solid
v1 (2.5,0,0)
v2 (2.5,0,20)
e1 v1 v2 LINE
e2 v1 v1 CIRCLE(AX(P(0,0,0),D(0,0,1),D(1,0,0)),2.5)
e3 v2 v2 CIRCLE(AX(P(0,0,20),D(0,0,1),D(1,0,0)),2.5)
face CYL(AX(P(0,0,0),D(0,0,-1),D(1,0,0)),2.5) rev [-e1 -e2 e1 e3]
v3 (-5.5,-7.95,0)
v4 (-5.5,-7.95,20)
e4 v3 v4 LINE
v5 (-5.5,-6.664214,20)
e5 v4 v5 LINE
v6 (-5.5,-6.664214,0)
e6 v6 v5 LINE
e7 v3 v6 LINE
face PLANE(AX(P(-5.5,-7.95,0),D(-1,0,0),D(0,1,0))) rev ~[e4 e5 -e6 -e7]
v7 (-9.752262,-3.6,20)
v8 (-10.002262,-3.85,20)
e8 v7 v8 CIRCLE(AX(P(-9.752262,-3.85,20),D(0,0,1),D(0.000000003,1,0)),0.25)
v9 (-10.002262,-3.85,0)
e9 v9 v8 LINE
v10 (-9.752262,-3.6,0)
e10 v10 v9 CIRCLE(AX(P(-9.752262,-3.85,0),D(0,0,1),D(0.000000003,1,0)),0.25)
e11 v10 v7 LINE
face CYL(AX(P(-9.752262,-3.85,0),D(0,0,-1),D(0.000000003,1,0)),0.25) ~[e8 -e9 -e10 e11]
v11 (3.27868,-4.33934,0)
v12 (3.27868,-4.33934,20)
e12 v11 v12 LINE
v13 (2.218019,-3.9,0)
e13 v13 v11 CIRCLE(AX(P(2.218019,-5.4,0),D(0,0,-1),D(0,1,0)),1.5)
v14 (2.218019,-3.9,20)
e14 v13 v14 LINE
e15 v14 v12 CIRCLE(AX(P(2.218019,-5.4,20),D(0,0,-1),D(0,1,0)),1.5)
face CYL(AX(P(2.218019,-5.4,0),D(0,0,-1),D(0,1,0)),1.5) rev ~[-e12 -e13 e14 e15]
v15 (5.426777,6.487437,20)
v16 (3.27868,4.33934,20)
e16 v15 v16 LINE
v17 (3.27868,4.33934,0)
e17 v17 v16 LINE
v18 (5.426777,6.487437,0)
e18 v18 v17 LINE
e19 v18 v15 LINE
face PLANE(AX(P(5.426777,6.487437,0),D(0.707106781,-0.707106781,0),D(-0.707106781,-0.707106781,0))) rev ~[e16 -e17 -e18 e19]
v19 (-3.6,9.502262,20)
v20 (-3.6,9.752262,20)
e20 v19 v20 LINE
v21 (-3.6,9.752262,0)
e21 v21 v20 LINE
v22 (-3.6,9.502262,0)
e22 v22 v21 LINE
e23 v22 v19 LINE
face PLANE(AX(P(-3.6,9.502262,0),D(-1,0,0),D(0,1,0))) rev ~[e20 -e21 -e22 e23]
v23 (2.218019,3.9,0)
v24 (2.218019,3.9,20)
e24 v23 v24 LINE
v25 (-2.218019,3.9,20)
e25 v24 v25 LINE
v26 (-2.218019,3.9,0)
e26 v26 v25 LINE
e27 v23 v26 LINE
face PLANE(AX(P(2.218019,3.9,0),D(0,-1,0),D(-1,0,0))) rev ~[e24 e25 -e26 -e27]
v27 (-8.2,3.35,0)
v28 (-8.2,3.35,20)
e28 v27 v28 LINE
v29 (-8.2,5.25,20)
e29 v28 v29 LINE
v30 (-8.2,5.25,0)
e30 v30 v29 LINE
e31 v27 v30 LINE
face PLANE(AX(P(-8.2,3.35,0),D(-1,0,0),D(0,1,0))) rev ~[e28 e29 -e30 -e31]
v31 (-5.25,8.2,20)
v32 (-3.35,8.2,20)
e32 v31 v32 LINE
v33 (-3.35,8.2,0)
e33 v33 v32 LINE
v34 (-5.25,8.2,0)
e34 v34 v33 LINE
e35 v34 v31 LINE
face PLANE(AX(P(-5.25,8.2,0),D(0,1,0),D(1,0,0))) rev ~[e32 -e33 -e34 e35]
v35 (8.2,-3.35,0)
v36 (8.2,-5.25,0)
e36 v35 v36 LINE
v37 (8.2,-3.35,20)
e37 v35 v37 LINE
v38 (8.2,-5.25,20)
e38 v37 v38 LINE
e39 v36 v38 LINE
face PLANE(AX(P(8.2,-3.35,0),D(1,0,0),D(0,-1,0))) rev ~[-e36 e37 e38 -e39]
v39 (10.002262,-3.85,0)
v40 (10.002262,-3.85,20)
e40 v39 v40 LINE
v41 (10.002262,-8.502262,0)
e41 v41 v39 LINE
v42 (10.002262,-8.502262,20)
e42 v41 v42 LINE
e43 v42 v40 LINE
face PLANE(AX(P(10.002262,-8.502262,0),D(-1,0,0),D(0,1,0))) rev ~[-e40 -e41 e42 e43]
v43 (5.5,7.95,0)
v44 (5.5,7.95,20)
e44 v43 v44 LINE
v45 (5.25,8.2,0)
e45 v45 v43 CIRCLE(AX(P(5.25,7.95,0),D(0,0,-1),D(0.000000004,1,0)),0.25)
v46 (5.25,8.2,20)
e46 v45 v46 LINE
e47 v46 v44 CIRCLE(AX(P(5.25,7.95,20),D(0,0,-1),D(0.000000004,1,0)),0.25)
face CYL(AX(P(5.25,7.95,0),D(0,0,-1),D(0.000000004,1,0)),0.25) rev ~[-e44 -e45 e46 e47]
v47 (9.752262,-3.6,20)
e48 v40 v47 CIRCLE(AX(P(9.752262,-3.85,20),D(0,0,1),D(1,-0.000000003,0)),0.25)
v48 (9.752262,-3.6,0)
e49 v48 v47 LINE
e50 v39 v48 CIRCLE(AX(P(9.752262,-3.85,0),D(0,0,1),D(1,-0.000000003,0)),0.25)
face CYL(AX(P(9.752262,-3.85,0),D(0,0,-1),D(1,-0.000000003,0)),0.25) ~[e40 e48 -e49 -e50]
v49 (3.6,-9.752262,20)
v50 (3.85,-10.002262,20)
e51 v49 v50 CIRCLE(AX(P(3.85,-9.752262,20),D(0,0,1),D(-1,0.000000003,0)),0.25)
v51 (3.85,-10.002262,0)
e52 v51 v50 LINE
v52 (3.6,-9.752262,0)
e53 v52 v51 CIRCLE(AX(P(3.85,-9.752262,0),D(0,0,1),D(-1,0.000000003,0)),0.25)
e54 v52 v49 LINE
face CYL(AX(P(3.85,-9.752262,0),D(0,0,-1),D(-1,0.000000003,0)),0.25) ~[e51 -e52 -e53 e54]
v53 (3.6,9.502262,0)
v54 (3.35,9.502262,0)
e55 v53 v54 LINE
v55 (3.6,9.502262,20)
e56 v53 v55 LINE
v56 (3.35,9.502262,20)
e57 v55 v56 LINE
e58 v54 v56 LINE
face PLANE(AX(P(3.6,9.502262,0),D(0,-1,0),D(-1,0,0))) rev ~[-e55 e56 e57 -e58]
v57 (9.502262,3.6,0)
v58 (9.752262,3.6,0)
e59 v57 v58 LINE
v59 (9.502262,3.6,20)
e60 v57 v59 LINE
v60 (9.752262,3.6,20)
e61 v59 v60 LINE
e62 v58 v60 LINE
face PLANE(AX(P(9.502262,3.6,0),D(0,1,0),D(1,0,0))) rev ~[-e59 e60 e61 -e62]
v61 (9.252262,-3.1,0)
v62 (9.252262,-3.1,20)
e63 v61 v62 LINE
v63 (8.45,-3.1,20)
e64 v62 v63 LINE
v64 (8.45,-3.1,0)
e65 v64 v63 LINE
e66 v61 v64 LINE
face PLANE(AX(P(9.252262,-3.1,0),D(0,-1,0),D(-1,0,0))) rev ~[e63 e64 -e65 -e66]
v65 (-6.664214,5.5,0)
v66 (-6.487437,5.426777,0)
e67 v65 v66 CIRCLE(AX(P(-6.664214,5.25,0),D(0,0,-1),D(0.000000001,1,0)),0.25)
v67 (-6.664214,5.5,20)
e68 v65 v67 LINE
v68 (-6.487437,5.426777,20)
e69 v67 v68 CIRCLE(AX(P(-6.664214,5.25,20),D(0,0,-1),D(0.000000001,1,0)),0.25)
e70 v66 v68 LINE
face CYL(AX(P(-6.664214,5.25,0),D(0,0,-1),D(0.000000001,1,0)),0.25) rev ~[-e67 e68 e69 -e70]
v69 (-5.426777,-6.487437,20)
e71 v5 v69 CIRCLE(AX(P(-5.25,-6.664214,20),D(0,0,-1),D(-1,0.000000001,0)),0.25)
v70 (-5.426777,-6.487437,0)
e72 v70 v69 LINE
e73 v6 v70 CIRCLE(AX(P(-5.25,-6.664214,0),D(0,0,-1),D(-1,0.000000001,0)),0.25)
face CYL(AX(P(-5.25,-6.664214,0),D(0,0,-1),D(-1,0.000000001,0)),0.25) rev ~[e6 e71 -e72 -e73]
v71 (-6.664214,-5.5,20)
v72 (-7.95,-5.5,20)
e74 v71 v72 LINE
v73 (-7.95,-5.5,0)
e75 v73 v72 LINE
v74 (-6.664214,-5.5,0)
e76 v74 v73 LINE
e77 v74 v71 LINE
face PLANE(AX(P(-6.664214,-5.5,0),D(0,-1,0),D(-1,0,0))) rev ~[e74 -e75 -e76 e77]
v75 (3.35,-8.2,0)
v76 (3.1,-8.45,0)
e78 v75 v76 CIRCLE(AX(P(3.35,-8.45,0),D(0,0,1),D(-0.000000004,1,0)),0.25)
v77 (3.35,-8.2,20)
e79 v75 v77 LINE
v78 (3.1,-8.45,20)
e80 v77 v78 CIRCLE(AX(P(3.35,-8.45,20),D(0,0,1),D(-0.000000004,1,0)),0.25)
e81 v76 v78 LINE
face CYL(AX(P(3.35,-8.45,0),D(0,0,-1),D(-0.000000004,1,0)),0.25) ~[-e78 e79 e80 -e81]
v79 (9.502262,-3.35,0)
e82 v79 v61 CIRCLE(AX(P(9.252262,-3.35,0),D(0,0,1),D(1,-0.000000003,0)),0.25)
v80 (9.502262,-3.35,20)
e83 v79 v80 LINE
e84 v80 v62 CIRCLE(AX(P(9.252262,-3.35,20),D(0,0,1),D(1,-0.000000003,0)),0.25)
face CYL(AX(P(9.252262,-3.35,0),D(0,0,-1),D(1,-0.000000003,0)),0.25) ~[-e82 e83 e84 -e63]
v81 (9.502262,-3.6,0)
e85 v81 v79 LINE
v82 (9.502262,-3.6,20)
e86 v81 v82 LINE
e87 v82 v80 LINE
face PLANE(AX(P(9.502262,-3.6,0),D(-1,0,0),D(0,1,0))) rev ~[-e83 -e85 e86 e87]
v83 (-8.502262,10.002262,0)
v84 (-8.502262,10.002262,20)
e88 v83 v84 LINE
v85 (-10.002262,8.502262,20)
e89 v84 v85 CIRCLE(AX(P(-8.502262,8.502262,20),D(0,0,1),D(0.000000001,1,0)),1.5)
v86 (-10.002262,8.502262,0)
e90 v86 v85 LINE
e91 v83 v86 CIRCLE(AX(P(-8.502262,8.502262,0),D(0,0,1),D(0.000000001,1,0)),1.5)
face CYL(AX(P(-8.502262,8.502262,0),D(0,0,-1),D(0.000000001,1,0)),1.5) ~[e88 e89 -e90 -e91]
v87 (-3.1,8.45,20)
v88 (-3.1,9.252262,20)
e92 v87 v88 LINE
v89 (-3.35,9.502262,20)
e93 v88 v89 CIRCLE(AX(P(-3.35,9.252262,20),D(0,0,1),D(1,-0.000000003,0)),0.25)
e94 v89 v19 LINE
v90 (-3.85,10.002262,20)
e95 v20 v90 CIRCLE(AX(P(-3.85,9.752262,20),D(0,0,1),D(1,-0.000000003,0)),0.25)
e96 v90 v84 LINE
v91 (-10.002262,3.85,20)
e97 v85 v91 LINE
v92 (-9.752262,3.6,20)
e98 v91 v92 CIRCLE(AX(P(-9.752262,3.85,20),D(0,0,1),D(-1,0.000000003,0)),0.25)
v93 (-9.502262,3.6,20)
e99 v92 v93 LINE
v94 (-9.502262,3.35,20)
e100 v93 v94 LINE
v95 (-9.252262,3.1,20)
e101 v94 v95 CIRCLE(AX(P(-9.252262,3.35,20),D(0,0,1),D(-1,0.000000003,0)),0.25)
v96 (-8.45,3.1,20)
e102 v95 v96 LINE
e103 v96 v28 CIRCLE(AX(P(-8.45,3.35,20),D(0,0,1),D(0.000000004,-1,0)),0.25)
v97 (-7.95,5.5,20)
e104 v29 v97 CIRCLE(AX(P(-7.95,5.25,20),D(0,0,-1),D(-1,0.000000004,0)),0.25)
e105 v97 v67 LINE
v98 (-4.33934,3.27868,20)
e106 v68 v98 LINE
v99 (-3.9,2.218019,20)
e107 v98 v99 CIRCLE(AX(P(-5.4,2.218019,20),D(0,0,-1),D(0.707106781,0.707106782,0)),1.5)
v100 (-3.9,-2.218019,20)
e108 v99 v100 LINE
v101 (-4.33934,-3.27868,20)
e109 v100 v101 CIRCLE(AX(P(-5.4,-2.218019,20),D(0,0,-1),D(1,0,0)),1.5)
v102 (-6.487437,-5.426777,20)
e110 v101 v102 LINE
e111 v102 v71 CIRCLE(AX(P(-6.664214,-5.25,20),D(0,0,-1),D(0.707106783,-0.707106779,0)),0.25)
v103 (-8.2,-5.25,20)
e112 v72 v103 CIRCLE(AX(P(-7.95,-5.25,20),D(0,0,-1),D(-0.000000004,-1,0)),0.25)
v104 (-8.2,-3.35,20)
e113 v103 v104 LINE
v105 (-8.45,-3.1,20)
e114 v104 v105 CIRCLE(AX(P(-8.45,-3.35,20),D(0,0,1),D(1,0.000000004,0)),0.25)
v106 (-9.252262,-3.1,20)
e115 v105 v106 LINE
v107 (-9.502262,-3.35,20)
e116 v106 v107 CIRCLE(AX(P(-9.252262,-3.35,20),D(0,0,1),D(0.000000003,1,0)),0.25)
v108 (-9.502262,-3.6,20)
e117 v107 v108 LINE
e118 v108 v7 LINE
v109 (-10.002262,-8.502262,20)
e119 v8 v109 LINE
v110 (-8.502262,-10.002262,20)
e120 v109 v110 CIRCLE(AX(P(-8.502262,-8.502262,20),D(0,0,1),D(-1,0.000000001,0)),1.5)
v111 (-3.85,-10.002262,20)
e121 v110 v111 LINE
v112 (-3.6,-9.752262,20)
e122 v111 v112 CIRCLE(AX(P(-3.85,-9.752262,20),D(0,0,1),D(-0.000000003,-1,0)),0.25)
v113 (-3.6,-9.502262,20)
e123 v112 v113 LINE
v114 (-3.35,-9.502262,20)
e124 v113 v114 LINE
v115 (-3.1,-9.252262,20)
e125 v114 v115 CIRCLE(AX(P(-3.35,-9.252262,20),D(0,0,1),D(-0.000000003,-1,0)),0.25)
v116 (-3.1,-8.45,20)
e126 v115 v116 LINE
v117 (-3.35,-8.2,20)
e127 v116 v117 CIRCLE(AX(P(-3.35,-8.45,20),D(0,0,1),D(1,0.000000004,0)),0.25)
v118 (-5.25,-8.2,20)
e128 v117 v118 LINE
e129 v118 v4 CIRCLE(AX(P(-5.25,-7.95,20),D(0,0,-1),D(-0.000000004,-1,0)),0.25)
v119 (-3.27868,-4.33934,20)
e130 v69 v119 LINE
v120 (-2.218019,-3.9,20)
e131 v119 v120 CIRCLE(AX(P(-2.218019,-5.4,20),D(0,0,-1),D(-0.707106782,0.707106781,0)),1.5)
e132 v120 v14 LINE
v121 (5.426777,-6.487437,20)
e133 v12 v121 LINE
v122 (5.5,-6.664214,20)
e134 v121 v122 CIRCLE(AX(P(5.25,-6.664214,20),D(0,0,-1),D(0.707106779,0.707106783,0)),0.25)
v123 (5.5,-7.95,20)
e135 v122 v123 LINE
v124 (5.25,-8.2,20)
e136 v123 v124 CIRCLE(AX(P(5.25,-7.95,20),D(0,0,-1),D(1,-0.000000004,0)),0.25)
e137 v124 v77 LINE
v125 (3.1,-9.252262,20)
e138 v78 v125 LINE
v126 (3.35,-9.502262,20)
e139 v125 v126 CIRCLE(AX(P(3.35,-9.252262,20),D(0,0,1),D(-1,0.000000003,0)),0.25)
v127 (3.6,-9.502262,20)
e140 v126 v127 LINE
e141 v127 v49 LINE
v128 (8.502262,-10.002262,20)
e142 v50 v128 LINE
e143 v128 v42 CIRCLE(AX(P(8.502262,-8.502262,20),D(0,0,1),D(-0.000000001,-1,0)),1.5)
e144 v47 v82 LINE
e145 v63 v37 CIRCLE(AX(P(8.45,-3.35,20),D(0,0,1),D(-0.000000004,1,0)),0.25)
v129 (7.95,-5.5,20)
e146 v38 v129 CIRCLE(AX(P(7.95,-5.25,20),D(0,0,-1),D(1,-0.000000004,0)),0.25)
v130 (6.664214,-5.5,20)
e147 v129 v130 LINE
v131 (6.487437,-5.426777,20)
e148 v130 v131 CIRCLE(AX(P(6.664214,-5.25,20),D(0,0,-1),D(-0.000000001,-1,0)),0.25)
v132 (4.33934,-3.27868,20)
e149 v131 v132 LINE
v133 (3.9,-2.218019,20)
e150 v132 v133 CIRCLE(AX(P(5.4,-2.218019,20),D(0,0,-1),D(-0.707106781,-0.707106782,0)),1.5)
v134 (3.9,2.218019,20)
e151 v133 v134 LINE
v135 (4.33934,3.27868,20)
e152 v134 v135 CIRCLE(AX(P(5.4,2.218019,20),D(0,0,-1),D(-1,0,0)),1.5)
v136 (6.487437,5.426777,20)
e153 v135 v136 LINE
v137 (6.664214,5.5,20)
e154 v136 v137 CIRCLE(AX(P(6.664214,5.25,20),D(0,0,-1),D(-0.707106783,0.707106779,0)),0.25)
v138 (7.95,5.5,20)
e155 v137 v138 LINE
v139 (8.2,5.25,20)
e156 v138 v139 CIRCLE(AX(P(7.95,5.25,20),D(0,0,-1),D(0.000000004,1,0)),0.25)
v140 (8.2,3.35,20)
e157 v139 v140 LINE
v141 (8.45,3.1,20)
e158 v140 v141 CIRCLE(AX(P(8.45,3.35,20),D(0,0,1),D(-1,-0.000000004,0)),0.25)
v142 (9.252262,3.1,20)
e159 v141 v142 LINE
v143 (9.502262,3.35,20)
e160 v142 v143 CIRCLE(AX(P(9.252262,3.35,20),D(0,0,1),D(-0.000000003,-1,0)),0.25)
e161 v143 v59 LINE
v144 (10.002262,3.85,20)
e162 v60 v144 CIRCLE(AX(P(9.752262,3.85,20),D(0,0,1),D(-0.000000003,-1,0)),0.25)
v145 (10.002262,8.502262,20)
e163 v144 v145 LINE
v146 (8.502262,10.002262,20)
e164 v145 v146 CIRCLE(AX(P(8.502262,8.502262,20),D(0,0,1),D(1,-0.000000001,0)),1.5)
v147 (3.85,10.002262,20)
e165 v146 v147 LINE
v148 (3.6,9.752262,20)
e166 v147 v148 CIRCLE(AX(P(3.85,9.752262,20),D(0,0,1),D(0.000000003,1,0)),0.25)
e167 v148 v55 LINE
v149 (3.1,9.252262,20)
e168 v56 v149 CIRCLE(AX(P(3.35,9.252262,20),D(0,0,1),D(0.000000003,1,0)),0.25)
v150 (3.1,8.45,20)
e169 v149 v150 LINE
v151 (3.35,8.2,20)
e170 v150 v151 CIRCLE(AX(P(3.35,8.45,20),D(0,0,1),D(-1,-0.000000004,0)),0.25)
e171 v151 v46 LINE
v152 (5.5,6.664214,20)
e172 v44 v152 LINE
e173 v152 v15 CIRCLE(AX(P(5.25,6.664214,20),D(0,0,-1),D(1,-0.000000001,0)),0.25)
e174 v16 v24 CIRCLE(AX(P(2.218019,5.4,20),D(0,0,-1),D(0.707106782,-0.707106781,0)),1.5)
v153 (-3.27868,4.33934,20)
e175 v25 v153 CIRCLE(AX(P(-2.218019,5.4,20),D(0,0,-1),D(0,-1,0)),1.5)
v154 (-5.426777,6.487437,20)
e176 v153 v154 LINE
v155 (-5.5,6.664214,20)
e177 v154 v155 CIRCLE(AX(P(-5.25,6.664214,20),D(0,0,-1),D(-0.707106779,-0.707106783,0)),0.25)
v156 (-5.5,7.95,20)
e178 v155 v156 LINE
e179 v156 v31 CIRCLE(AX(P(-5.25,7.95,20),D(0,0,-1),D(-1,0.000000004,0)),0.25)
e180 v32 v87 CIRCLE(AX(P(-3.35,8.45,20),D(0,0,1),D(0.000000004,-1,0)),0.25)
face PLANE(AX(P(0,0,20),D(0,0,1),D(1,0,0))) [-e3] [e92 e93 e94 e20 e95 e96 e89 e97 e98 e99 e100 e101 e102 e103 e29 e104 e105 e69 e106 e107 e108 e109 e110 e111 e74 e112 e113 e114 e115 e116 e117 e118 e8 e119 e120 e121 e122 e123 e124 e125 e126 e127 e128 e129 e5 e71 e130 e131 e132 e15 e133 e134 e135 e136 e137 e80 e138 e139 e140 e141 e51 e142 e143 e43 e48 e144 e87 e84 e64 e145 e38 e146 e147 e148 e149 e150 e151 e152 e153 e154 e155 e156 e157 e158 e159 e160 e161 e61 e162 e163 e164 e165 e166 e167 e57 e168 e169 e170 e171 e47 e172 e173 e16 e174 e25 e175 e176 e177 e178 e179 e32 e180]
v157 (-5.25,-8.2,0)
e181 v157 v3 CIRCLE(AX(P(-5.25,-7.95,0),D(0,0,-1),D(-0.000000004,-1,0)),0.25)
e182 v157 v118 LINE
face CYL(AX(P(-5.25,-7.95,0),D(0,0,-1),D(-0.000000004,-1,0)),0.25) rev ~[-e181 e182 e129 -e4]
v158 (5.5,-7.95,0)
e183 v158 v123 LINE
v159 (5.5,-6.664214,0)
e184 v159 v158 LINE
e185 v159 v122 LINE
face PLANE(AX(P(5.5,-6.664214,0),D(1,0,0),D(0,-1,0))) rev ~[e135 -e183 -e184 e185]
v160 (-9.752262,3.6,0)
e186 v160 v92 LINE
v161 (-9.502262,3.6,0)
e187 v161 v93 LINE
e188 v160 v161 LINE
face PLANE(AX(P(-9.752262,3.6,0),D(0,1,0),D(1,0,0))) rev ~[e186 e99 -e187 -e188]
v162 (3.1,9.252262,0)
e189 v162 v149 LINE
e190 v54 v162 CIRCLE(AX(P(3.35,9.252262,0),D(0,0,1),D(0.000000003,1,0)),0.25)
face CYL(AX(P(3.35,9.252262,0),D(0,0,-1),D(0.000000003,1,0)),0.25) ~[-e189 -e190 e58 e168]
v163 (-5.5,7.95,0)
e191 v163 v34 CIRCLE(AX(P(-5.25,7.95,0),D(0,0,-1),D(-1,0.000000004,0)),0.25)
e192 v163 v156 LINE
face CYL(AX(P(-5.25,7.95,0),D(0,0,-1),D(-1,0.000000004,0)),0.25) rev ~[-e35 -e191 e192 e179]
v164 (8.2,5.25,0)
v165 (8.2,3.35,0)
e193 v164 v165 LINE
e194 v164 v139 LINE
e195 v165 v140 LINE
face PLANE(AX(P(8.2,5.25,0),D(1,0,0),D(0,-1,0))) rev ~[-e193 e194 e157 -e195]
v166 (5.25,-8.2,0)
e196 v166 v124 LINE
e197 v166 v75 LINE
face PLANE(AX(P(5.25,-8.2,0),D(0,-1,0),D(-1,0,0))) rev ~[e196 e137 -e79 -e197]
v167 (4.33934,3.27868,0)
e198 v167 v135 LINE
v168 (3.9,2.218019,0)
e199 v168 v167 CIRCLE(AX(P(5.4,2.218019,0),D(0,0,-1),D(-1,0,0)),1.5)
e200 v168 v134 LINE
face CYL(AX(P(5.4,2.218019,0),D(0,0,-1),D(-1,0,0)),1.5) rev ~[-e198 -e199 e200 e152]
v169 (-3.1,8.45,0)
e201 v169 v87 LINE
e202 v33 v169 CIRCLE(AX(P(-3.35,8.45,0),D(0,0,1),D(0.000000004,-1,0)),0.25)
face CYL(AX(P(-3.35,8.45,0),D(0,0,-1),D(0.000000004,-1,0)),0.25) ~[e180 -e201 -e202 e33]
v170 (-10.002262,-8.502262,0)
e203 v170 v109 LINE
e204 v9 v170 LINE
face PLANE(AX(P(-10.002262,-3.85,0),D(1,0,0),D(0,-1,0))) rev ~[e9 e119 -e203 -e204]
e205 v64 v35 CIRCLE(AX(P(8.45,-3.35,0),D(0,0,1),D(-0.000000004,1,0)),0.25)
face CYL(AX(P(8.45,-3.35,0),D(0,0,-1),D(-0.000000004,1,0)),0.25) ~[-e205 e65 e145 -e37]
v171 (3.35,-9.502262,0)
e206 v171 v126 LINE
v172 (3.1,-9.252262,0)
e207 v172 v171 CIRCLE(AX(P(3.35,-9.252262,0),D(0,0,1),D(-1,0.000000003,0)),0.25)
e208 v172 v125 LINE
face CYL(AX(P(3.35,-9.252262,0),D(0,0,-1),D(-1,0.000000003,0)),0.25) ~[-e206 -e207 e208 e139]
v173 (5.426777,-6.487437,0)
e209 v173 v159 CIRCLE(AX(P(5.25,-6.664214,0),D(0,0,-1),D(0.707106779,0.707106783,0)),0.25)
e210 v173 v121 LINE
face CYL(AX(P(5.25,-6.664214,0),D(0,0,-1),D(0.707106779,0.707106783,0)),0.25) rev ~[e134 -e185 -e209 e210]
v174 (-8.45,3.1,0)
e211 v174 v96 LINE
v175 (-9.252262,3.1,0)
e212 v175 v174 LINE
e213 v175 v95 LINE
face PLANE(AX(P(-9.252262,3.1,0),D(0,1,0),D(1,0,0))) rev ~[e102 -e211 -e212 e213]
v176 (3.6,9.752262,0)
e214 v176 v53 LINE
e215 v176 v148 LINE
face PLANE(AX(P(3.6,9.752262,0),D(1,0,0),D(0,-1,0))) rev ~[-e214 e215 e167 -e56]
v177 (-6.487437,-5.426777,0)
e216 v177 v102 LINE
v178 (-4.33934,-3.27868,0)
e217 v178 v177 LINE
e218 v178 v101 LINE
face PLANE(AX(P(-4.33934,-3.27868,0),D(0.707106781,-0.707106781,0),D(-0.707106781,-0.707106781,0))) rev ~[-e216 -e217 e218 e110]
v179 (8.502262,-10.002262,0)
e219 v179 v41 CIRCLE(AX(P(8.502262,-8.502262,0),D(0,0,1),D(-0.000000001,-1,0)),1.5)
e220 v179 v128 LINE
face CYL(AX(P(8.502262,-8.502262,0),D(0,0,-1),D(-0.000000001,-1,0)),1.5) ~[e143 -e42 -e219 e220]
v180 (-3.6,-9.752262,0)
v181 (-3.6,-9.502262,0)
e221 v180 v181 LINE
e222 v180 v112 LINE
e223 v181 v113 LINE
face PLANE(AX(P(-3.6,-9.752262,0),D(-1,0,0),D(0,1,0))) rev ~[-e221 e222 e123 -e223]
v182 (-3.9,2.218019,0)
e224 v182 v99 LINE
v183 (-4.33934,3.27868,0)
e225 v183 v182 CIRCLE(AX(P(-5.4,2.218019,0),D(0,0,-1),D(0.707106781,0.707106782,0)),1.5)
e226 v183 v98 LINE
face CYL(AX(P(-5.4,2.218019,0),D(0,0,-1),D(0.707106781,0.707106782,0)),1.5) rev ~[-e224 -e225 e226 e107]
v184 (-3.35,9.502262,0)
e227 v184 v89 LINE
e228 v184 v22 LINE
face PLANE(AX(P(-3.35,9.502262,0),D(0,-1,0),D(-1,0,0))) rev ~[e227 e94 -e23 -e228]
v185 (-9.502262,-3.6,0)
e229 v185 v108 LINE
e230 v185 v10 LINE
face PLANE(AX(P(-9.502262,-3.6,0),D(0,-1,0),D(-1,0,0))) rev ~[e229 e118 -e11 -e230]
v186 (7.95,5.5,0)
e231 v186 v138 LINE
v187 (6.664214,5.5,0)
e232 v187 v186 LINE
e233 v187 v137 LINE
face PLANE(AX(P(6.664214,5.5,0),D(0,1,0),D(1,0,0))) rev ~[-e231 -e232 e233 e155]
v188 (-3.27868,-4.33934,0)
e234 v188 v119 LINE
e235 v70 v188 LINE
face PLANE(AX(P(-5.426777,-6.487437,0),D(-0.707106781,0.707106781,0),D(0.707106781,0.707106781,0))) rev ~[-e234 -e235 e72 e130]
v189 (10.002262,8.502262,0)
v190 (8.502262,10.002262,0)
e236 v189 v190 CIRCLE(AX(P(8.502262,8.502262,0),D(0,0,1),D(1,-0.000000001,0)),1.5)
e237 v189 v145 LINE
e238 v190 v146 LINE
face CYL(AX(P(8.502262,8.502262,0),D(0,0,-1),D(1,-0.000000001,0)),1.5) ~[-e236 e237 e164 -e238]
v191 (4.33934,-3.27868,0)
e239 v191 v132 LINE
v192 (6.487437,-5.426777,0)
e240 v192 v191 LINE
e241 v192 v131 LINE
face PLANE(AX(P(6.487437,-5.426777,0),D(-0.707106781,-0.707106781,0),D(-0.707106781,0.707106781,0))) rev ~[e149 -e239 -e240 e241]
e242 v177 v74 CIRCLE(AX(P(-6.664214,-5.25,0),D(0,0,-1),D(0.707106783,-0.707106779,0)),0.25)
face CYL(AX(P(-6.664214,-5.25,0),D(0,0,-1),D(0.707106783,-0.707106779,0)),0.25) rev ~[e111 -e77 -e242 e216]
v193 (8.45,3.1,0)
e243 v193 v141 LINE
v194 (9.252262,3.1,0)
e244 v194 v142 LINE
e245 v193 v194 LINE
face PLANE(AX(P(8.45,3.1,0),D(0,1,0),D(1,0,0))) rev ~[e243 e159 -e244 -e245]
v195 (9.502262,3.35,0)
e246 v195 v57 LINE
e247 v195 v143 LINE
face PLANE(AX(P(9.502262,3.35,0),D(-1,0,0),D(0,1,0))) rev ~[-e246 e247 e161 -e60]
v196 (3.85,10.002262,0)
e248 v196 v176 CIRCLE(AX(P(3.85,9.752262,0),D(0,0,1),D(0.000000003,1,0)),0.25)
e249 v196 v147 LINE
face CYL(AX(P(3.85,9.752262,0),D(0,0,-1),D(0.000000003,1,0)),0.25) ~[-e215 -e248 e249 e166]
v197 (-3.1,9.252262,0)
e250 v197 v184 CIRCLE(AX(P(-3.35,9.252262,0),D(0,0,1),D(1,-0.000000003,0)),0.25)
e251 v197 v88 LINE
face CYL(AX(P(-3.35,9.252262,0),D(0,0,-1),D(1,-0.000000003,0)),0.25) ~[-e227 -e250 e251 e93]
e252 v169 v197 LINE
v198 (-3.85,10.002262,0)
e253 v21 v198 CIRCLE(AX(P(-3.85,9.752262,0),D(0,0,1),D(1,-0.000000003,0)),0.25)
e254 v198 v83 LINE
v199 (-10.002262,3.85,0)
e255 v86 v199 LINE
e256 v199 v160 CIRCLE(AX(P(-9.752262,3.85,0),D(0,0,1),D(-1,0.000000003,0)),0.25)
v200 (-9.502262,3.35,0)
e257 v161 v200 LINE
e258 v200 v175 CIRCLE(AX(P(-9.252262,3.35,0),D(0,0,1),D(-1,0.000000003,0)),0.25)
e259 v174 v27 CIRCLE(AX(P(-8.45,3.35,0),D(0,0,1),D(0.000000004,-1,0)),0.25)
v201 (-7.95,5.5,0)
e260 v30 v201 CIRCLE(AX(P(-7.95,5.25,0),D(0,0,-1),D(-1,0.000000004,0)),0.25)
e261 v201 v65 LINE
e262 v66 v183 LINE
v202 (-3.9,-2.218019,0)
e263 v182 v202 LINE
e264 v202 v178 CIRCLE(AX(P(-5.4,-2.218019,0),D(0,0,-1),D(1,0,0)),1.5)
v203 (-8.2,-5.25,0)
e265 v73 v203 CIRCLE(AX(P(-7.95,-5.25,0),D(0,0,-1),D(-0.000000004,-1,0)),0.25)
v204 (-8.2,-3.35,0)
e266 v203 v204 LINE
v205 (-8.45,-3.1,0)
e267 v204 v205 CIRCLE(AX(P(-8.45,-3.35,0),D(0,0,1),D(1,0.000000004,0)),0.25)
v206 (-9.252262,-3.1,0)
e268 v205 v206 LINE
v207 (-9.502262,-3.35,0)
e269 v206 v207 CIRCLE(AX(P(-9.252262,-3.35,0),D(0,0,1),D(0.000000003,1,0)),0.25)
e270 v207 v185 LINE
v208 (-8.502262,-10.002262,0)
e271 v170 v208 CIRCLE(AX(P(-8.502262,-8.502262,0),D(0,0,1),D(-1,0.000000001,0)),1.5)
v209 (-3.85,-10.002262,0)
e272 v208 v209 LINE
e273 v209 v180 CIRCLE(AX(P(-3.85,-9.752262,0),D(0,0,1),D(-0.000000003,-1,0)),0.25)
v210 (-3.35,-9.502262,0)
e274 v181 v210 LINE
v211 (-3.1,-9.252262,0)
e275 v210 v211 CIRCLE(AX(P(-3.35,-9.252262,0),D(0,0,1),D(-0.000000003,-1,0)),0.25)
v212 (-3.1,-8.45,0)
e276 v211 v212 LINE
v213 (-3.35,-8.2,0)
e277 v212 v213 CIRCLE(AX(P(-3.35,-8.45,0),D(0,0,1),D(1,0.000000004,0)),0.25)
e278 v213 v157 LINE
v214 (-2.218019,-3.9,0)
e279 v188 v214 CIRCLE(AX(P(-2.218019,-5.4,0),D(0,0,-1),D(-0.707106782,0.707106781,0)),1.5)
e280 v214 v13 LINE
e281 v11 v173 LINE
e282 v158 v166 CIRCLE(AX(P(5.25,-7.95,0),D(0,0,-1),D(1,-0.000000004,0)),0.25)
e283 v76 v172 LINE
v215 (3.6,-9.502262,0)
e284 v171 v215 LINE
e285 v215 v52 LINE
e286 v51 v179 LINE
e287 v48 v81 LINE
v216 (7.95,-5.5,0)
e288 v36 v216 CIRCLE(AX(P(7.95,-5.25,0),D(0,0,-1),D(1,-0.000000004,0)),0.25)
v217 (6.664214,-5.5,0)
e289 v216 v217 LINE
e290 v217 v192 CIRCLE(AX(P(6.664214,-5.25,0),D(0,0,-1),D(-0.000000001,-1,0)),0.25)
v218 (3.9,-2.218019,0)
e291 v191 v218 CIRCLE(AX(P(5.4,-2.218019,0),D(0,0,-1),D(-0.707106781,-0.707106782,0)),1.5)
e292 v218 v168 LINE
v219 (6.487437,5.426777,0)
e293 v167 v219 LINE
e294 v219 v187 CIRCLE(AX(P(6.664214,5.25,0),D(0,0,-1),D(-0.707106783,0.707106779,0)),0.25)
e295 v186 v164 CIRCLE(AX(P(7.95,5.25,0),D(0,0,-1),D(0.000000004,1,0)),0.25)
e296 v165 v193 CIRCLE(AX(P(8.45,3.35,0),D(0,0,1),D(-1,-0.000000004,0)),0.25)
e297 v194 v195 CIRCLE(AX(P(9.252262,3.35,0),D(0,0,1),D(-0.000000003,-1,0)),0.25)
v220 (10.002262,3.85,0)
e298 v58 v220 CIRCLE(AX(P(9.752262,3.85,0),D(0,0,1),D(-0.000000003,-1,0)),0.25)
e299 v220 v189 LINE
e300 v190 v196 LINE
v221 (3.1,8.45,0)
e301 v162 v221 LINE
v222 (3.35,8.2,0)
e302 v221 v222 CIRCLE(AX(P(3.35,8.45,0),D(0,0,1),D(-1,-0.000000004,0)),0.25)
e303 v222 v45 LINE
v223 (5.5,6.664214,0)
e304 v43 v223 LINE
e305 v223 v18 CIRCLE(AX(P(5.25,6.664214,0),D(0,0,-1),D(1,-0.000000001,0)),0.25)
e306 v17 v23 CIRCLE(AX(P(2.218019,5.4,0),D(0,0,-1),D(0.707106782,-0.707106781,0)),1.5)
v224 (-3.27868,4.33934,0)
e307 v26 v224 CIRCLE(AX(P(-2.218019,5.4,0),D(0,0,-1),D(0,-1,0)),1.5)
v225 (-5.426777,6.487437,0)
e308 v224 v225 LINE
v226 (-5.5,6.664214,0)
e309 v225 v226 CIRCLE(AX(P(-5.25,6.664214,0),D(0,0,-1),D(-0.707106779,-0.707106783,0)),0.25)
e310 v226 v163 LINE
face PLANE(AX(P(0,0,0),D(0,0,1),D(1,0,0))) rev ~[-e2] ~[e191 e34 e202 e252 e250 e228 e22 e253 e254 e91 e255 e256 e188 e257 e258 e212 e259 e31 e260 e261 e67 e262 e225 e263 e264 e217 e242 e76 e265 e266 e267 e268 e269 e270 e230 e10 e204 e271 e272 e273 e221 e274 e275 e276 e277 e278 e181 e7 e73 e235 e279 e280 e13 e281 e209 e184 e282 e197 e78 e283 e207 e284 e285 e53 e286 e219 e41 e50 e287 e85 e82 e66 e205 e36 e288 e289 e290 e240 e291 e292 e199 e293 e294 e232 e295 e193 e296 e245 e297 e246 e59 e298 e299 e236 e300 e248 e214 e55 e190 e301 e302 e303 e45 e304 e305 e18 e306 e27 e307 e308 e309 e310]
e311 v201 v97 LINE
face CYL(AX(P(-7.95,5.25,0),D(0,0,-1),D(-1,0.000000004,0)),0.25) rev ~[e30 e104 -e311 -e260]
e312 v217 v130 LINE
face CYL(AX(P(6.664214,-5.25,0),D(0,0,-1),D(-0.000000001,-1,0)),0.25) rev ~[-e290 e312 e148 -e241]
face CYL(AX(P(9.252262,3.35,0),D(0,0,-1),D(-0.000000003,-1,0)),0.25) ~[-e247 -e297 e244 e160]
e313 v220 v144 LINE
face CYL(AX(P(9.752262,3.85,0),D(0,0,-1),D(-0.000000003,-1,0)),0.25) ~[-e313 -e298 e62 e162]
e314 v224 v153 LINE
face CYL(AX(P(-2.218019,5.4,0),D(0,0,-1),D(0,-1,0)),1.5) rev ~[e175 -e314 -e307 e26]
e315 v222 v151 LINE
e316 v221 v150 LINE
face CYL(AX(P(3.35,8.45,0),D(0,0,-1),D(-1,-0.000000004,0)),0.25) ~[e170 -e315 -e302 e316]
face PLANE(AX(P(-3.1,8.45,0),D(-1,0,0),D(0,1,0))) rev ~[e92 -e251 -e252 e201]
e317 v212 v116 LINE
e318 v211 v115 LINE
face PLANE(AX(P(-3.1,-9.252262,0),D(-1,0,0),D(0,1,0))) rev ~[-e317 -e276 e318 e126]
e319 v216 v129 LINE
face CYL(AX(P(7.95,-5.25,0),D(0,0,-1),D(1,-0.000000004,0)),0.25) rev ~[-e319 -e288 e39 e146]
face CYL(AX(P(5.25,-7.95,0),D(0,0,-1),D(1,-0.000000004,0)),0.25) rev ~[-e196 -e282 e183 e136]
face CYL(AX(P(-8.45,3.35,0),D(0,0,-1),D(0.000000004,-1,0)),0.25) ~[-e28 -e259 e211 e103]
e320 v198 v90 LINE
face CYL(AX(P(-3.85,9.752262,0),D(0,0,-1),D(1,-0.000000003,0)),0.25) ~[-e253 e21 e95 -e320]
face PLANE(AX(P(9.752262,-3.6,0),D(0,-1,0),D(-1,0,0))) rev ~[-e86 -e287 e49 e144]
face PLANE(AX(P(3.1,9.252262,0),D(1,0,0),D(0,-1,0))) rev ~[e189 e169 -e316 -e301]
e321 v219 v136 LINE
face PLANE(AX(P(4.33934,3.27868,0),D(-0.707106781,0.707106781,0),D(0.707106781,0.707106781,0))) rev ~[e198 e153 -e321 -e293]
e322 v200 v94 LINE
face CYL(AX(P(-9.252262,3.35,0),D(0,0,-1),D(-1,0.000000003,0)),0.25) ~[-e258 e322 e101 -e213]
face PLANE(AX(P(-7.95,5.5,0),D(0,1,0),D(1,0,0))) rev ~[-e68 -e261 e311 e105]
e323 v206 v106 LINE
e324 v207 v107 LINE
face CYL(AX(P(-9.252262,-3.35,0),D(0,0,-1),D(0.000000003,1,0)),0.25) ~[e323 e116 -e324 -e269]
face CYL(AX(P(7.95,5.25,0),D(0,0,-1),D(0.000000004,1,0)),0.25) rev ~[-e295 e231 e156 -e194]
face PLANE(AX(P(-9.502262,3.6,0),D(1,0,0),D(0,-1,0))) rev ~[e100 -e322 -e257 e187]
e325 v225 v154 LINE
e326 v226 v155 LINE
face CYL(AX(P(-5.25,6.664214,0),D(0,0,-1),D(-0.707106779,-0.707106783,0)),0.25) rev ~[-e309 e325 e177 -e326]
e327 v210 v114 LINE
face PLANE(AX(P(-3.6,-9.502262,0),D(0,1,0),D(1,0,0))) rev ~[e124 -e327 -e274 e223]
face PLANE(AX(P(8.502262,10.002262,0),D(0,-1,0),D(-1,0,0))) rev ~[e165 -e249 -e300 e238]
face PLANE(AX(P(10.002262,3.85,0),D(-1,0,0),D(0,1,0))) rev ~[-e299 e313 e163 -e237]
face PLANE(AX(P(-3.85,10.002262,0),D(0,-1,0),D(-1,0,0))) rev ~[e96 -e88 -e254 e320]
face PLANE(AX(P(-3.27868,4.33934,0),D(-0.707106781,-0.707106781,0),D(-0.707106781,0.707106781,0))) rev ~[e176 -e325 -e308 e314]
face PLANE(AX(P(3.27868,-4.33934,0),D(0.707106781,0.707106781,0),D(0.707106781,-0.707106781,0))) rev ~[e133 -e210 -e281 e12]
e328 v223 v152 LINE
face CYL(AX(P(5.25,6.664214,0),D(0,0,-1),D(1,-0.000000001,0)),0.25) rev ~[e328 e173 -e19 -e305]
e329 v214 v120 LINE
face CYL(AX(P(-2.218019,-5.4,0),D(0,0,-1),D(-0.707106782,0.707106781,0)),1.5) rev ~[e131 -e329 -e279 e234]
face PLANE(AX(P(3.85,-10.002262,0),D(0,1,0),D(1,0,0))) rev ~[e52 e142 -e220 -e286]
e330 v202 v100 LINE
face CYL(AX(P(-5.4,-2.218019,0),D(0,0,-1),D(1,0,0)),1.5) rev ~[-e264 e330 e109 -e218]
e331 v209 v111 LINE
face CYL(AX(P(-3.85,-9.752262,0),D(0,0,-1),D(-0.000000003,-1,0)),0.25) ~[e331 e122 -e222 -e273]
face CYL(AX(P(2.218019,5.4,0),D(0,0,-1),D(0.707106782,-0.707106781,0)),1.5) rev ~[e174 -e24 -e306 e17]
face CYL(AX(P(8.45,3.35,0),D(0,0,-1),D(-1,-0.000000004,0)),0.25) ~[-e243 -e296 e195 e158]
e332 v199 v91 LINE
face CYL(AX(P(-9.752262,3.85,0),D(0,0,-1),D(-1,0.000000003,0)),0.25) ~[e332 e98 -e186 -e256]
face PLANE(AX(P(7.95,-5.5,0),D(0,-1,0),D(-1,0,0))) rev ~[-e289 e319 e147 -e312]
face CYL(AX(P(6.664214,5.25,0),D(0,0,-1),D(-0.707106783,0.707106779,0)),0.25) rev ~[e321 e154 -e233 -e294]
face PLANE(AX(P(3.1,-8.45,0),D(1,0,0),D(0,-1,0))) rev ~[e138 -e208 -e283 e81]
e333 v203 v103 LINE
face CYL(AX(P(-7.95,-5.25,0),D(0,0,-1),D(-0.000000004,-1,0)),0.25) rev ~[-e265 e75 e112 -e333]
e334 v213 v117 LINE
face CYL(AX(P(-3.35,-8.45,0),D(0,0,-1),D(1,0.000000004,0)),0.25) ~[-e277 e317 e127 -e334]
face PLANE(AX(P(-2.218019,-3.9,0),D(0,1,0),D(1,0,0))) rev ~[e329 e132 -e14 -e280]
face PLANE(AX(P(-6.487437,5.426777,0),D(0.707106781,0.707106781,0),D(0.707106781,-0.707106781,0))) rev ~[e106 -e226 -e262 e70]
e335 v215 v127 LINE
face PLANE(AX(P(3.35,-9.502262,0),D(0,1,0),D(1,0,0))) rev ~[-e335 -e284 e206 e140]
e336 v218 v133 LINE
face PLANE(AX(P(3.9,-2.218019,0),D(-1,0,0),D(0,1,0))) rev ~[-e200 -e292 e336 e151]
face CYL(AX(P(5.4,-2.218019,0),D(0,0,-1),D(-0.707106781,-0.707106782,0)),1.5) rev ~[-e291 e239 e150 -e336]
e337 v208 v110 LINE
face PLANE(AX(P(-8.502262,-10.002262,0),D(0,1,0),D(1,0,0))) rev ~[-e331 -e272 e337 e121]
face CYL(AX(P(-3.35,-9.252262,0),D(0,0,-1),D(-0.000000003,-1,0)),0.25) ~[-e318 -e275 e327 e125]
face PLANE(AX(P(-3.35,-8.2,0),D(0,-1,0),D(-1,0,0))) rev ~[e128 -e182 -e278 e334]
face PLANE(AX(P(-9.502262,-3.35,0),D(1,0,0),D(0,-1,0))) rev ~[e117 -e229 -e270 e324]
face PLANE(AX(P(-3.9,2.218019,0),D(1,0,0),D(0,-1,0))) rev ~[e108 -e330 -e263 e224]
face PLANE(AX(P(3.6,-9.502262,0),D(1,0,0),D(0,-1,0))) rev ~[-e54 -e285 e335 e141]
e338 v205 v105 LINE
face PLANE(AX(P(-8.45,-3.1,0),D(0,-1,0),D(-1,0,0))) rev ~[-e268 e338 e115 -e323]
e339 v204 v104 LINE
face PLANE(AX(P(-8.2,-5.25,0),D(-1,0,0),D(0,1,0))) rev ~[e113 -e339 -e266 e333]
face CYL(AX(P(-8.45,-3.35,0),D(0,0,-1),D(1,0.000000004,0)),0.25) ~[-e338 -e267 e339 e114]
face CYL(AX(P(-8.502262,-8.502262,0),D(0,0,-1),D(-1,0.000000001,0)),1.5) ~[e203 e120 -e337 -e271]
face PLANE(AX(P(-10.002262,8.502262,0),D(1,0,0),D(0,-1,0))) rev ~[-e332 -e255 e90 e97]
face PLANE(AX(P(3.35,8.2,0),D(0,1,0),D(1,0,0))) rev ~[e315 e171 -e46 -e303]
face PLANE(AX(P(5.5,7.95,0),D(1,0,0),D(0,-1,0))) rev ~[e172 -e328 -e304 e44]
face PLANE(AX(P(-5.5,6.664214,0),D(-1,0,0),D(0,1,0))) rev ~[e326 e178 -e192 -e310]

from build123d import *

# Parameters (mm, degrees)
SKETCH_1_R      = 2.5
EXTRUDE_1_DEPTH = 20


with BuildPart() as part:
    # 草图1 → 凸台-拉伸1 (new body)
    with BuildSketch(Plane.XY):
        with BuildLine():
            Line((-8.502261885, -10.002261885), (-3.85, -10.002261885))
            ThreePointArc((-3.85, -10.002261885), (-3.673223305, -9.929038581), (-3.6, -9.752261885))
            Line((-3.6, -9.752261885), (-3.6, -9.502261885))
            Line((-3.6, -9.502261885), (-3.35, -9.502261885))
            ThreePointArc((-3.35, -9.502261885), (-3.173223305, -9.429038581), (-3.1, -9.252261885))
            Line((-3.1, -9.252261885), (-3.1, -8.45))
            ThreePointArc((-3.1, -8.45), (-3.173223305, -8.273223305), (-3.35, -8.2))
            Line((-3.35, -8.2), (-5.25, -8.2))
            ThreePointArc((-5.25, -8.2), (-5.426776695, -8.126776695), (-5.5, -7.95))
            Line((-5.5, -7.95), (-5.5, -6.664213562))
            ThreePointArc((-5.5, -6.664213562), (-5.480969883, -6.568542704), (-5.426776695, -6.487436867))
            Line((-5.426776695, -6.487436867), (-3.278679656, -4.339339828))
            ThreePointArc((-3.278679656, -4.339339828), (-2.792044633, -4.014180701), (-2.218019485, -3.9))
            Line((-2.218019485, -3.9), (2.218019485, -3.9))
            ThreePointArc((2.218019485, -3.9), (2.792044633, -4.014180701), (3.278679656, -4.339339828))
            Line((3.278679656, -4.339339828), (5.426776695, -6.487436867))
            ThreePointArc((5.426776695, -6.487436867), (5.480969883, -6.568542704), (5.5, -6.664213562))
            Line((5.5, -6.664213562), (5.5, -7.95))
            ThreePointArc((5.5, -7.95), (5.426776695, -8.126776695), (5.25, -8.2))
            Line((5.25, -8.2), (3.35, -8.2))
            ThreePointArc((3.35, -8.2), (3.173223305, -8.273223305), (3.1, -8.45))
            Line((3.1, -8.45), (3.1, -9.252261885))
            ThreePointArc((3.1, -9.252261885), (3.173223305, -9.429038581), (3.35, -9.502261885))
            Line((3.35, -9.502261885), (3.6, -9.502261885))
            Line((3.6, -9.502261885), (3.6, -9.752261885))
            ThreePointArc((3.6, -9.752261885), (3.673223305, -9.929038581), (3.85, -10.002261885))
            Line((3.85, -10.002261885), (8.502261885, -10.002261885))
            ThreePointArc((8.502261885, -10.002261885), (9.562922057, -9.562922057), (10.002261885, -8.502261885))
            Line((10.002261885, -8.502261885), (10.002261885, -3.85))
            ThreePointArc((10.002261885, -3.85), (9.929038581, -3.673223305), (9.752261885, -3.6))
            Line((9.752261885, -3.6), (9.502261885, -3.6))
            Line((9.502261885, -3.6), (9.502261885, -3.35))
            ThreePointArc((9.502261885, -3.35), (9.429038581, -3.173223305), (9.252261885, -3.1))
            Line((9.252261885, -3.1), (8.45, -3.1))
            ThreePointArc((8.45, -3.1), (8.273223305, -3.173223305), (8.2, -3.35))
            Line((8.2, -3.35), (8.2, -5.25))
            ThreePointArc((8.2, -5.25), (8.126776695, -5.426776695), (7.95, -5.5))
            Line((7.95, -5.5), (6.664213562, -5.5))
            ThreePointArc((6.664213562, -5.5), (6.568542704, -5.480969883), (6.487436867, -5.426776695))
            Line((6.487436867, -5.426776695), (4.339339828, -3.278679656))
            ThreePointArc((4.339339828, -3.278679656), (4.014180701, -2.792044633), (3.9, -2.218019485))
            Line((3.9, -2.218019485), (3.9, 2.218019485))
            ThreePointArc((3.9, 2.218019485), (4.014180701, 2.792044633), (4.339339828, 3.278679656))
            Line((4.339339828, 3.278679656), (6.487436867, 5.426776695))
            ThreePointArc((6.487436867, 5.426776695), (6.568542704, 5.480969883), (6.664213562, 5.5))
            Line((6.664213562, 5.5), (7.95, 5.5))
            ThreePointArc((7.95, 5.5), (8.126776695, 5.426776695), (8.2, 5.25))
            Line((8.2, 5.25), (8.2, 3.35))
            ThreePointArc((8.2, 3.35), (8.273223305, 3.173223305), (8.45, 3.1))
            Line((8.45, 3.1), (9.252261885, 3.1))
            ThreePointArc((9.252261885, 3.1), (9.429038581, 3.173223305), (9.502261885, 3.35))
            Line((9.502261885, 3.35), (9.502261885, 3.6))
            Line((9.502261885, 3.6), (9.752261885, 3.6))
            ThreePointArc((9.752261885, 3.6), (9.929038581, 3.673223305), (10.002261885, 3.85))
            Line((10.002261885, 3.85), (10.002261885, 8.502261885))
            ThreePointArc((10.002261885, 8.502261885), (9.562922057, 9.562922057), (8.502261885, 10.002261885))
            Line((8.502261885, 10.002261885), (3.85, 10.002261885))
            ThreePointArc((3.85, 10.002261885), (3.673223305, 9.929038581), (3.6, 9.752261885))
            Line((3.6, 9.752261885), (3.6, 9.502261885))
            Line((3.6, 9.502261885), (3.35, 9.502261885))
            ThreePointArc((3.35, 9.502261885), (3.173223305, 9.429038581), (3.1, 9.252261885))
            Line((3.1, 9.252261885), (3.1, 8.45))
            ThreePointArc((3.1, 8.45), (3.173223305, 8.273223305), (3.35, 8.2))
            Line((3.35, 8.2), (5.25, 8.2))
            ThreePointArc((5.25, 8.2), (5.426776695, 8.126776695), (5.5, 7.95))
            Line((5.5, 7.95), (5.5, 6.664213562))
            ThreePointArc((5.5, 6.664213562), (5.480969883, 6.568542704), (5.426776695, 6.487436867))
            Line((5.426776695, 6.487436867), (3.278679656, 4.339339828))
            ThreePointArc((3.278679656, 4.339339828), (2.792044633, 4.014180701), (2.218019485, 3.9))
            Line((2.218019485, 3.9), (-2.218019485, 3.9))
            ThreePointArc((-2.218019485, 3.9), (-2.792044633, 4.014180701), (-3.278679656, 4.339339828))
            Line((-3.278679656, 4.339339828), (-5.426776695, 6.487436867))
            ThreePointArc((-5.426776695, 6.487436867), (-5.480969883, 6.568542704), (-5.5, 6.664213562))
            Line((-5.5, 6.664213562), (-5.5, 7.95))
            ThreePointArc((-5.5, 7.95), (-5.426776695, 8.126776695), (-5.25, 8.2))
            Line((-5.25, 8.2), (-3.35, 8.2))
            ThreePointArc((-3.35, 8.2), (-3.173223305, 8.273223305), (-3.1, 8.45))
            Line((-3.1, 8.45), (-3.1, 9.252261885))
            ThreePointArc((-3.1, 9.252261885), (-3.173223305, 9.429038581), (-3.35, 9.502261885))
            Line((-3.35, 9.502261885), (-3.6, 9.502261885))
            Line((-3.6, 9.502261885), (-3.6, 9.752261885))
            ThreePointArc((-3.6, 9.752261885), (-3.673223305, 9.929038581), (-3.85, 10.002261885))
            Line((-3.85, 10.002261885), (-8.502261885, 10.002261885))
            ThreePointArc((-8.502261885, 10.002261885), (-9.562922057, 9.562922057), (-10.002261885, 8.502261885))
            Line((-10.002261885, 8.502261885), (-10.002261885, 3.85))
            ThreePointArc((-10.002261885, 3.85), (-9.929038581, 3.673223305), (-9.752261885, 3.6))
            Line((-9.752261885, 3.6), (-9.502261885, 3.6))
            Line((-9.502261885, 3.6), (-9.502261885, 3.35))
            ThreePointArc((-9.502261885, 3.35), (-9.429038581, 3.173223305), (-9.252261885, 3.1))
            Line((-9.252261885, 3.1), (-8.45, 3.1))
            ThreePointArc((-8.45, 3.1), (-8.273223305, 3.173223305), (-8.2, 3.35))
            Line((-8.2, 3.35), (-8.2, 5.25))
            ThreePointArc((-8.2, 5.25), (-8.126776695, 5.426776695), (-7.95, 5.5))
            Line((-7.95, 5.5), (-6.664213562, 5.5))
            ThreePointArc((-6.664213562, 5.5), (-6.568542704, 5.480969883), (-6.487436867, 5.426776695))
            Line((-6.487436867, 5.426776695), (-4.339339828, 3.278679656))
            ThreePointArc((-4.339339828, 3.278679656), (-4.014180701, 2.792044633), (-3.9, 2.218019485))
            Line((-3.9, 2.218019485), (-3.9, -2.218019485))
            ThreePointArc((-3.9, -2.218019485), (-4.014180701, -2.792044633), (-4.339339828, -3.278679656))
            Line((-4.339339828, -3.278679656), (-6.487436867, -5.426776695))
            ThreePointArc((-6.487436867, -5.426776695), (-6.568542704, -5.480969883), (-6.664213562, -5.5))
            Line((-6.664213562, -5.5), (-7.95, -5.5))
            ThreePointArc((-7.95, -5.5), (-8.126776695, -5.426776695), (-8.2, -5.25))
            Line((-8.2, -5.25), (-8.2, -3.35))
            ThreePointArc((-8.2, -3.35), (-8.273223305, -3.173223305), (-8.45, -3.1))
            Line((-8.45, -3.1), (-9.252261885, -3.1))
            ThreePointArc((-9.252261885, -3.1), (-9.429038581, -3.173223305), (-9.502261885, -3.35))
            Line((-9.502261885, -3.35), (-9.502261885, -3.6))
            Line((-9.502261885, -3.6), (-9.752261885, -3.6))
            ThreePointArc((-9.752261885, -3.6), (-9.929038581, -3.673223305), (-10.002261885, -3.85))
            Line((-10.002261885, -3.85), (-10.002261885, -8.502261885))
            ThreePointArc((-10.002261885, -8.502261885), (-9.562922057, -9.562922057), (-8.502261885, -10.002261885))
        make_face()
        Circle(SKETCH_1_R, mode=Mode.SUBTRACT)
    extrude(amount=EXTRUDE_1_DEPTH)


solid = part.part
